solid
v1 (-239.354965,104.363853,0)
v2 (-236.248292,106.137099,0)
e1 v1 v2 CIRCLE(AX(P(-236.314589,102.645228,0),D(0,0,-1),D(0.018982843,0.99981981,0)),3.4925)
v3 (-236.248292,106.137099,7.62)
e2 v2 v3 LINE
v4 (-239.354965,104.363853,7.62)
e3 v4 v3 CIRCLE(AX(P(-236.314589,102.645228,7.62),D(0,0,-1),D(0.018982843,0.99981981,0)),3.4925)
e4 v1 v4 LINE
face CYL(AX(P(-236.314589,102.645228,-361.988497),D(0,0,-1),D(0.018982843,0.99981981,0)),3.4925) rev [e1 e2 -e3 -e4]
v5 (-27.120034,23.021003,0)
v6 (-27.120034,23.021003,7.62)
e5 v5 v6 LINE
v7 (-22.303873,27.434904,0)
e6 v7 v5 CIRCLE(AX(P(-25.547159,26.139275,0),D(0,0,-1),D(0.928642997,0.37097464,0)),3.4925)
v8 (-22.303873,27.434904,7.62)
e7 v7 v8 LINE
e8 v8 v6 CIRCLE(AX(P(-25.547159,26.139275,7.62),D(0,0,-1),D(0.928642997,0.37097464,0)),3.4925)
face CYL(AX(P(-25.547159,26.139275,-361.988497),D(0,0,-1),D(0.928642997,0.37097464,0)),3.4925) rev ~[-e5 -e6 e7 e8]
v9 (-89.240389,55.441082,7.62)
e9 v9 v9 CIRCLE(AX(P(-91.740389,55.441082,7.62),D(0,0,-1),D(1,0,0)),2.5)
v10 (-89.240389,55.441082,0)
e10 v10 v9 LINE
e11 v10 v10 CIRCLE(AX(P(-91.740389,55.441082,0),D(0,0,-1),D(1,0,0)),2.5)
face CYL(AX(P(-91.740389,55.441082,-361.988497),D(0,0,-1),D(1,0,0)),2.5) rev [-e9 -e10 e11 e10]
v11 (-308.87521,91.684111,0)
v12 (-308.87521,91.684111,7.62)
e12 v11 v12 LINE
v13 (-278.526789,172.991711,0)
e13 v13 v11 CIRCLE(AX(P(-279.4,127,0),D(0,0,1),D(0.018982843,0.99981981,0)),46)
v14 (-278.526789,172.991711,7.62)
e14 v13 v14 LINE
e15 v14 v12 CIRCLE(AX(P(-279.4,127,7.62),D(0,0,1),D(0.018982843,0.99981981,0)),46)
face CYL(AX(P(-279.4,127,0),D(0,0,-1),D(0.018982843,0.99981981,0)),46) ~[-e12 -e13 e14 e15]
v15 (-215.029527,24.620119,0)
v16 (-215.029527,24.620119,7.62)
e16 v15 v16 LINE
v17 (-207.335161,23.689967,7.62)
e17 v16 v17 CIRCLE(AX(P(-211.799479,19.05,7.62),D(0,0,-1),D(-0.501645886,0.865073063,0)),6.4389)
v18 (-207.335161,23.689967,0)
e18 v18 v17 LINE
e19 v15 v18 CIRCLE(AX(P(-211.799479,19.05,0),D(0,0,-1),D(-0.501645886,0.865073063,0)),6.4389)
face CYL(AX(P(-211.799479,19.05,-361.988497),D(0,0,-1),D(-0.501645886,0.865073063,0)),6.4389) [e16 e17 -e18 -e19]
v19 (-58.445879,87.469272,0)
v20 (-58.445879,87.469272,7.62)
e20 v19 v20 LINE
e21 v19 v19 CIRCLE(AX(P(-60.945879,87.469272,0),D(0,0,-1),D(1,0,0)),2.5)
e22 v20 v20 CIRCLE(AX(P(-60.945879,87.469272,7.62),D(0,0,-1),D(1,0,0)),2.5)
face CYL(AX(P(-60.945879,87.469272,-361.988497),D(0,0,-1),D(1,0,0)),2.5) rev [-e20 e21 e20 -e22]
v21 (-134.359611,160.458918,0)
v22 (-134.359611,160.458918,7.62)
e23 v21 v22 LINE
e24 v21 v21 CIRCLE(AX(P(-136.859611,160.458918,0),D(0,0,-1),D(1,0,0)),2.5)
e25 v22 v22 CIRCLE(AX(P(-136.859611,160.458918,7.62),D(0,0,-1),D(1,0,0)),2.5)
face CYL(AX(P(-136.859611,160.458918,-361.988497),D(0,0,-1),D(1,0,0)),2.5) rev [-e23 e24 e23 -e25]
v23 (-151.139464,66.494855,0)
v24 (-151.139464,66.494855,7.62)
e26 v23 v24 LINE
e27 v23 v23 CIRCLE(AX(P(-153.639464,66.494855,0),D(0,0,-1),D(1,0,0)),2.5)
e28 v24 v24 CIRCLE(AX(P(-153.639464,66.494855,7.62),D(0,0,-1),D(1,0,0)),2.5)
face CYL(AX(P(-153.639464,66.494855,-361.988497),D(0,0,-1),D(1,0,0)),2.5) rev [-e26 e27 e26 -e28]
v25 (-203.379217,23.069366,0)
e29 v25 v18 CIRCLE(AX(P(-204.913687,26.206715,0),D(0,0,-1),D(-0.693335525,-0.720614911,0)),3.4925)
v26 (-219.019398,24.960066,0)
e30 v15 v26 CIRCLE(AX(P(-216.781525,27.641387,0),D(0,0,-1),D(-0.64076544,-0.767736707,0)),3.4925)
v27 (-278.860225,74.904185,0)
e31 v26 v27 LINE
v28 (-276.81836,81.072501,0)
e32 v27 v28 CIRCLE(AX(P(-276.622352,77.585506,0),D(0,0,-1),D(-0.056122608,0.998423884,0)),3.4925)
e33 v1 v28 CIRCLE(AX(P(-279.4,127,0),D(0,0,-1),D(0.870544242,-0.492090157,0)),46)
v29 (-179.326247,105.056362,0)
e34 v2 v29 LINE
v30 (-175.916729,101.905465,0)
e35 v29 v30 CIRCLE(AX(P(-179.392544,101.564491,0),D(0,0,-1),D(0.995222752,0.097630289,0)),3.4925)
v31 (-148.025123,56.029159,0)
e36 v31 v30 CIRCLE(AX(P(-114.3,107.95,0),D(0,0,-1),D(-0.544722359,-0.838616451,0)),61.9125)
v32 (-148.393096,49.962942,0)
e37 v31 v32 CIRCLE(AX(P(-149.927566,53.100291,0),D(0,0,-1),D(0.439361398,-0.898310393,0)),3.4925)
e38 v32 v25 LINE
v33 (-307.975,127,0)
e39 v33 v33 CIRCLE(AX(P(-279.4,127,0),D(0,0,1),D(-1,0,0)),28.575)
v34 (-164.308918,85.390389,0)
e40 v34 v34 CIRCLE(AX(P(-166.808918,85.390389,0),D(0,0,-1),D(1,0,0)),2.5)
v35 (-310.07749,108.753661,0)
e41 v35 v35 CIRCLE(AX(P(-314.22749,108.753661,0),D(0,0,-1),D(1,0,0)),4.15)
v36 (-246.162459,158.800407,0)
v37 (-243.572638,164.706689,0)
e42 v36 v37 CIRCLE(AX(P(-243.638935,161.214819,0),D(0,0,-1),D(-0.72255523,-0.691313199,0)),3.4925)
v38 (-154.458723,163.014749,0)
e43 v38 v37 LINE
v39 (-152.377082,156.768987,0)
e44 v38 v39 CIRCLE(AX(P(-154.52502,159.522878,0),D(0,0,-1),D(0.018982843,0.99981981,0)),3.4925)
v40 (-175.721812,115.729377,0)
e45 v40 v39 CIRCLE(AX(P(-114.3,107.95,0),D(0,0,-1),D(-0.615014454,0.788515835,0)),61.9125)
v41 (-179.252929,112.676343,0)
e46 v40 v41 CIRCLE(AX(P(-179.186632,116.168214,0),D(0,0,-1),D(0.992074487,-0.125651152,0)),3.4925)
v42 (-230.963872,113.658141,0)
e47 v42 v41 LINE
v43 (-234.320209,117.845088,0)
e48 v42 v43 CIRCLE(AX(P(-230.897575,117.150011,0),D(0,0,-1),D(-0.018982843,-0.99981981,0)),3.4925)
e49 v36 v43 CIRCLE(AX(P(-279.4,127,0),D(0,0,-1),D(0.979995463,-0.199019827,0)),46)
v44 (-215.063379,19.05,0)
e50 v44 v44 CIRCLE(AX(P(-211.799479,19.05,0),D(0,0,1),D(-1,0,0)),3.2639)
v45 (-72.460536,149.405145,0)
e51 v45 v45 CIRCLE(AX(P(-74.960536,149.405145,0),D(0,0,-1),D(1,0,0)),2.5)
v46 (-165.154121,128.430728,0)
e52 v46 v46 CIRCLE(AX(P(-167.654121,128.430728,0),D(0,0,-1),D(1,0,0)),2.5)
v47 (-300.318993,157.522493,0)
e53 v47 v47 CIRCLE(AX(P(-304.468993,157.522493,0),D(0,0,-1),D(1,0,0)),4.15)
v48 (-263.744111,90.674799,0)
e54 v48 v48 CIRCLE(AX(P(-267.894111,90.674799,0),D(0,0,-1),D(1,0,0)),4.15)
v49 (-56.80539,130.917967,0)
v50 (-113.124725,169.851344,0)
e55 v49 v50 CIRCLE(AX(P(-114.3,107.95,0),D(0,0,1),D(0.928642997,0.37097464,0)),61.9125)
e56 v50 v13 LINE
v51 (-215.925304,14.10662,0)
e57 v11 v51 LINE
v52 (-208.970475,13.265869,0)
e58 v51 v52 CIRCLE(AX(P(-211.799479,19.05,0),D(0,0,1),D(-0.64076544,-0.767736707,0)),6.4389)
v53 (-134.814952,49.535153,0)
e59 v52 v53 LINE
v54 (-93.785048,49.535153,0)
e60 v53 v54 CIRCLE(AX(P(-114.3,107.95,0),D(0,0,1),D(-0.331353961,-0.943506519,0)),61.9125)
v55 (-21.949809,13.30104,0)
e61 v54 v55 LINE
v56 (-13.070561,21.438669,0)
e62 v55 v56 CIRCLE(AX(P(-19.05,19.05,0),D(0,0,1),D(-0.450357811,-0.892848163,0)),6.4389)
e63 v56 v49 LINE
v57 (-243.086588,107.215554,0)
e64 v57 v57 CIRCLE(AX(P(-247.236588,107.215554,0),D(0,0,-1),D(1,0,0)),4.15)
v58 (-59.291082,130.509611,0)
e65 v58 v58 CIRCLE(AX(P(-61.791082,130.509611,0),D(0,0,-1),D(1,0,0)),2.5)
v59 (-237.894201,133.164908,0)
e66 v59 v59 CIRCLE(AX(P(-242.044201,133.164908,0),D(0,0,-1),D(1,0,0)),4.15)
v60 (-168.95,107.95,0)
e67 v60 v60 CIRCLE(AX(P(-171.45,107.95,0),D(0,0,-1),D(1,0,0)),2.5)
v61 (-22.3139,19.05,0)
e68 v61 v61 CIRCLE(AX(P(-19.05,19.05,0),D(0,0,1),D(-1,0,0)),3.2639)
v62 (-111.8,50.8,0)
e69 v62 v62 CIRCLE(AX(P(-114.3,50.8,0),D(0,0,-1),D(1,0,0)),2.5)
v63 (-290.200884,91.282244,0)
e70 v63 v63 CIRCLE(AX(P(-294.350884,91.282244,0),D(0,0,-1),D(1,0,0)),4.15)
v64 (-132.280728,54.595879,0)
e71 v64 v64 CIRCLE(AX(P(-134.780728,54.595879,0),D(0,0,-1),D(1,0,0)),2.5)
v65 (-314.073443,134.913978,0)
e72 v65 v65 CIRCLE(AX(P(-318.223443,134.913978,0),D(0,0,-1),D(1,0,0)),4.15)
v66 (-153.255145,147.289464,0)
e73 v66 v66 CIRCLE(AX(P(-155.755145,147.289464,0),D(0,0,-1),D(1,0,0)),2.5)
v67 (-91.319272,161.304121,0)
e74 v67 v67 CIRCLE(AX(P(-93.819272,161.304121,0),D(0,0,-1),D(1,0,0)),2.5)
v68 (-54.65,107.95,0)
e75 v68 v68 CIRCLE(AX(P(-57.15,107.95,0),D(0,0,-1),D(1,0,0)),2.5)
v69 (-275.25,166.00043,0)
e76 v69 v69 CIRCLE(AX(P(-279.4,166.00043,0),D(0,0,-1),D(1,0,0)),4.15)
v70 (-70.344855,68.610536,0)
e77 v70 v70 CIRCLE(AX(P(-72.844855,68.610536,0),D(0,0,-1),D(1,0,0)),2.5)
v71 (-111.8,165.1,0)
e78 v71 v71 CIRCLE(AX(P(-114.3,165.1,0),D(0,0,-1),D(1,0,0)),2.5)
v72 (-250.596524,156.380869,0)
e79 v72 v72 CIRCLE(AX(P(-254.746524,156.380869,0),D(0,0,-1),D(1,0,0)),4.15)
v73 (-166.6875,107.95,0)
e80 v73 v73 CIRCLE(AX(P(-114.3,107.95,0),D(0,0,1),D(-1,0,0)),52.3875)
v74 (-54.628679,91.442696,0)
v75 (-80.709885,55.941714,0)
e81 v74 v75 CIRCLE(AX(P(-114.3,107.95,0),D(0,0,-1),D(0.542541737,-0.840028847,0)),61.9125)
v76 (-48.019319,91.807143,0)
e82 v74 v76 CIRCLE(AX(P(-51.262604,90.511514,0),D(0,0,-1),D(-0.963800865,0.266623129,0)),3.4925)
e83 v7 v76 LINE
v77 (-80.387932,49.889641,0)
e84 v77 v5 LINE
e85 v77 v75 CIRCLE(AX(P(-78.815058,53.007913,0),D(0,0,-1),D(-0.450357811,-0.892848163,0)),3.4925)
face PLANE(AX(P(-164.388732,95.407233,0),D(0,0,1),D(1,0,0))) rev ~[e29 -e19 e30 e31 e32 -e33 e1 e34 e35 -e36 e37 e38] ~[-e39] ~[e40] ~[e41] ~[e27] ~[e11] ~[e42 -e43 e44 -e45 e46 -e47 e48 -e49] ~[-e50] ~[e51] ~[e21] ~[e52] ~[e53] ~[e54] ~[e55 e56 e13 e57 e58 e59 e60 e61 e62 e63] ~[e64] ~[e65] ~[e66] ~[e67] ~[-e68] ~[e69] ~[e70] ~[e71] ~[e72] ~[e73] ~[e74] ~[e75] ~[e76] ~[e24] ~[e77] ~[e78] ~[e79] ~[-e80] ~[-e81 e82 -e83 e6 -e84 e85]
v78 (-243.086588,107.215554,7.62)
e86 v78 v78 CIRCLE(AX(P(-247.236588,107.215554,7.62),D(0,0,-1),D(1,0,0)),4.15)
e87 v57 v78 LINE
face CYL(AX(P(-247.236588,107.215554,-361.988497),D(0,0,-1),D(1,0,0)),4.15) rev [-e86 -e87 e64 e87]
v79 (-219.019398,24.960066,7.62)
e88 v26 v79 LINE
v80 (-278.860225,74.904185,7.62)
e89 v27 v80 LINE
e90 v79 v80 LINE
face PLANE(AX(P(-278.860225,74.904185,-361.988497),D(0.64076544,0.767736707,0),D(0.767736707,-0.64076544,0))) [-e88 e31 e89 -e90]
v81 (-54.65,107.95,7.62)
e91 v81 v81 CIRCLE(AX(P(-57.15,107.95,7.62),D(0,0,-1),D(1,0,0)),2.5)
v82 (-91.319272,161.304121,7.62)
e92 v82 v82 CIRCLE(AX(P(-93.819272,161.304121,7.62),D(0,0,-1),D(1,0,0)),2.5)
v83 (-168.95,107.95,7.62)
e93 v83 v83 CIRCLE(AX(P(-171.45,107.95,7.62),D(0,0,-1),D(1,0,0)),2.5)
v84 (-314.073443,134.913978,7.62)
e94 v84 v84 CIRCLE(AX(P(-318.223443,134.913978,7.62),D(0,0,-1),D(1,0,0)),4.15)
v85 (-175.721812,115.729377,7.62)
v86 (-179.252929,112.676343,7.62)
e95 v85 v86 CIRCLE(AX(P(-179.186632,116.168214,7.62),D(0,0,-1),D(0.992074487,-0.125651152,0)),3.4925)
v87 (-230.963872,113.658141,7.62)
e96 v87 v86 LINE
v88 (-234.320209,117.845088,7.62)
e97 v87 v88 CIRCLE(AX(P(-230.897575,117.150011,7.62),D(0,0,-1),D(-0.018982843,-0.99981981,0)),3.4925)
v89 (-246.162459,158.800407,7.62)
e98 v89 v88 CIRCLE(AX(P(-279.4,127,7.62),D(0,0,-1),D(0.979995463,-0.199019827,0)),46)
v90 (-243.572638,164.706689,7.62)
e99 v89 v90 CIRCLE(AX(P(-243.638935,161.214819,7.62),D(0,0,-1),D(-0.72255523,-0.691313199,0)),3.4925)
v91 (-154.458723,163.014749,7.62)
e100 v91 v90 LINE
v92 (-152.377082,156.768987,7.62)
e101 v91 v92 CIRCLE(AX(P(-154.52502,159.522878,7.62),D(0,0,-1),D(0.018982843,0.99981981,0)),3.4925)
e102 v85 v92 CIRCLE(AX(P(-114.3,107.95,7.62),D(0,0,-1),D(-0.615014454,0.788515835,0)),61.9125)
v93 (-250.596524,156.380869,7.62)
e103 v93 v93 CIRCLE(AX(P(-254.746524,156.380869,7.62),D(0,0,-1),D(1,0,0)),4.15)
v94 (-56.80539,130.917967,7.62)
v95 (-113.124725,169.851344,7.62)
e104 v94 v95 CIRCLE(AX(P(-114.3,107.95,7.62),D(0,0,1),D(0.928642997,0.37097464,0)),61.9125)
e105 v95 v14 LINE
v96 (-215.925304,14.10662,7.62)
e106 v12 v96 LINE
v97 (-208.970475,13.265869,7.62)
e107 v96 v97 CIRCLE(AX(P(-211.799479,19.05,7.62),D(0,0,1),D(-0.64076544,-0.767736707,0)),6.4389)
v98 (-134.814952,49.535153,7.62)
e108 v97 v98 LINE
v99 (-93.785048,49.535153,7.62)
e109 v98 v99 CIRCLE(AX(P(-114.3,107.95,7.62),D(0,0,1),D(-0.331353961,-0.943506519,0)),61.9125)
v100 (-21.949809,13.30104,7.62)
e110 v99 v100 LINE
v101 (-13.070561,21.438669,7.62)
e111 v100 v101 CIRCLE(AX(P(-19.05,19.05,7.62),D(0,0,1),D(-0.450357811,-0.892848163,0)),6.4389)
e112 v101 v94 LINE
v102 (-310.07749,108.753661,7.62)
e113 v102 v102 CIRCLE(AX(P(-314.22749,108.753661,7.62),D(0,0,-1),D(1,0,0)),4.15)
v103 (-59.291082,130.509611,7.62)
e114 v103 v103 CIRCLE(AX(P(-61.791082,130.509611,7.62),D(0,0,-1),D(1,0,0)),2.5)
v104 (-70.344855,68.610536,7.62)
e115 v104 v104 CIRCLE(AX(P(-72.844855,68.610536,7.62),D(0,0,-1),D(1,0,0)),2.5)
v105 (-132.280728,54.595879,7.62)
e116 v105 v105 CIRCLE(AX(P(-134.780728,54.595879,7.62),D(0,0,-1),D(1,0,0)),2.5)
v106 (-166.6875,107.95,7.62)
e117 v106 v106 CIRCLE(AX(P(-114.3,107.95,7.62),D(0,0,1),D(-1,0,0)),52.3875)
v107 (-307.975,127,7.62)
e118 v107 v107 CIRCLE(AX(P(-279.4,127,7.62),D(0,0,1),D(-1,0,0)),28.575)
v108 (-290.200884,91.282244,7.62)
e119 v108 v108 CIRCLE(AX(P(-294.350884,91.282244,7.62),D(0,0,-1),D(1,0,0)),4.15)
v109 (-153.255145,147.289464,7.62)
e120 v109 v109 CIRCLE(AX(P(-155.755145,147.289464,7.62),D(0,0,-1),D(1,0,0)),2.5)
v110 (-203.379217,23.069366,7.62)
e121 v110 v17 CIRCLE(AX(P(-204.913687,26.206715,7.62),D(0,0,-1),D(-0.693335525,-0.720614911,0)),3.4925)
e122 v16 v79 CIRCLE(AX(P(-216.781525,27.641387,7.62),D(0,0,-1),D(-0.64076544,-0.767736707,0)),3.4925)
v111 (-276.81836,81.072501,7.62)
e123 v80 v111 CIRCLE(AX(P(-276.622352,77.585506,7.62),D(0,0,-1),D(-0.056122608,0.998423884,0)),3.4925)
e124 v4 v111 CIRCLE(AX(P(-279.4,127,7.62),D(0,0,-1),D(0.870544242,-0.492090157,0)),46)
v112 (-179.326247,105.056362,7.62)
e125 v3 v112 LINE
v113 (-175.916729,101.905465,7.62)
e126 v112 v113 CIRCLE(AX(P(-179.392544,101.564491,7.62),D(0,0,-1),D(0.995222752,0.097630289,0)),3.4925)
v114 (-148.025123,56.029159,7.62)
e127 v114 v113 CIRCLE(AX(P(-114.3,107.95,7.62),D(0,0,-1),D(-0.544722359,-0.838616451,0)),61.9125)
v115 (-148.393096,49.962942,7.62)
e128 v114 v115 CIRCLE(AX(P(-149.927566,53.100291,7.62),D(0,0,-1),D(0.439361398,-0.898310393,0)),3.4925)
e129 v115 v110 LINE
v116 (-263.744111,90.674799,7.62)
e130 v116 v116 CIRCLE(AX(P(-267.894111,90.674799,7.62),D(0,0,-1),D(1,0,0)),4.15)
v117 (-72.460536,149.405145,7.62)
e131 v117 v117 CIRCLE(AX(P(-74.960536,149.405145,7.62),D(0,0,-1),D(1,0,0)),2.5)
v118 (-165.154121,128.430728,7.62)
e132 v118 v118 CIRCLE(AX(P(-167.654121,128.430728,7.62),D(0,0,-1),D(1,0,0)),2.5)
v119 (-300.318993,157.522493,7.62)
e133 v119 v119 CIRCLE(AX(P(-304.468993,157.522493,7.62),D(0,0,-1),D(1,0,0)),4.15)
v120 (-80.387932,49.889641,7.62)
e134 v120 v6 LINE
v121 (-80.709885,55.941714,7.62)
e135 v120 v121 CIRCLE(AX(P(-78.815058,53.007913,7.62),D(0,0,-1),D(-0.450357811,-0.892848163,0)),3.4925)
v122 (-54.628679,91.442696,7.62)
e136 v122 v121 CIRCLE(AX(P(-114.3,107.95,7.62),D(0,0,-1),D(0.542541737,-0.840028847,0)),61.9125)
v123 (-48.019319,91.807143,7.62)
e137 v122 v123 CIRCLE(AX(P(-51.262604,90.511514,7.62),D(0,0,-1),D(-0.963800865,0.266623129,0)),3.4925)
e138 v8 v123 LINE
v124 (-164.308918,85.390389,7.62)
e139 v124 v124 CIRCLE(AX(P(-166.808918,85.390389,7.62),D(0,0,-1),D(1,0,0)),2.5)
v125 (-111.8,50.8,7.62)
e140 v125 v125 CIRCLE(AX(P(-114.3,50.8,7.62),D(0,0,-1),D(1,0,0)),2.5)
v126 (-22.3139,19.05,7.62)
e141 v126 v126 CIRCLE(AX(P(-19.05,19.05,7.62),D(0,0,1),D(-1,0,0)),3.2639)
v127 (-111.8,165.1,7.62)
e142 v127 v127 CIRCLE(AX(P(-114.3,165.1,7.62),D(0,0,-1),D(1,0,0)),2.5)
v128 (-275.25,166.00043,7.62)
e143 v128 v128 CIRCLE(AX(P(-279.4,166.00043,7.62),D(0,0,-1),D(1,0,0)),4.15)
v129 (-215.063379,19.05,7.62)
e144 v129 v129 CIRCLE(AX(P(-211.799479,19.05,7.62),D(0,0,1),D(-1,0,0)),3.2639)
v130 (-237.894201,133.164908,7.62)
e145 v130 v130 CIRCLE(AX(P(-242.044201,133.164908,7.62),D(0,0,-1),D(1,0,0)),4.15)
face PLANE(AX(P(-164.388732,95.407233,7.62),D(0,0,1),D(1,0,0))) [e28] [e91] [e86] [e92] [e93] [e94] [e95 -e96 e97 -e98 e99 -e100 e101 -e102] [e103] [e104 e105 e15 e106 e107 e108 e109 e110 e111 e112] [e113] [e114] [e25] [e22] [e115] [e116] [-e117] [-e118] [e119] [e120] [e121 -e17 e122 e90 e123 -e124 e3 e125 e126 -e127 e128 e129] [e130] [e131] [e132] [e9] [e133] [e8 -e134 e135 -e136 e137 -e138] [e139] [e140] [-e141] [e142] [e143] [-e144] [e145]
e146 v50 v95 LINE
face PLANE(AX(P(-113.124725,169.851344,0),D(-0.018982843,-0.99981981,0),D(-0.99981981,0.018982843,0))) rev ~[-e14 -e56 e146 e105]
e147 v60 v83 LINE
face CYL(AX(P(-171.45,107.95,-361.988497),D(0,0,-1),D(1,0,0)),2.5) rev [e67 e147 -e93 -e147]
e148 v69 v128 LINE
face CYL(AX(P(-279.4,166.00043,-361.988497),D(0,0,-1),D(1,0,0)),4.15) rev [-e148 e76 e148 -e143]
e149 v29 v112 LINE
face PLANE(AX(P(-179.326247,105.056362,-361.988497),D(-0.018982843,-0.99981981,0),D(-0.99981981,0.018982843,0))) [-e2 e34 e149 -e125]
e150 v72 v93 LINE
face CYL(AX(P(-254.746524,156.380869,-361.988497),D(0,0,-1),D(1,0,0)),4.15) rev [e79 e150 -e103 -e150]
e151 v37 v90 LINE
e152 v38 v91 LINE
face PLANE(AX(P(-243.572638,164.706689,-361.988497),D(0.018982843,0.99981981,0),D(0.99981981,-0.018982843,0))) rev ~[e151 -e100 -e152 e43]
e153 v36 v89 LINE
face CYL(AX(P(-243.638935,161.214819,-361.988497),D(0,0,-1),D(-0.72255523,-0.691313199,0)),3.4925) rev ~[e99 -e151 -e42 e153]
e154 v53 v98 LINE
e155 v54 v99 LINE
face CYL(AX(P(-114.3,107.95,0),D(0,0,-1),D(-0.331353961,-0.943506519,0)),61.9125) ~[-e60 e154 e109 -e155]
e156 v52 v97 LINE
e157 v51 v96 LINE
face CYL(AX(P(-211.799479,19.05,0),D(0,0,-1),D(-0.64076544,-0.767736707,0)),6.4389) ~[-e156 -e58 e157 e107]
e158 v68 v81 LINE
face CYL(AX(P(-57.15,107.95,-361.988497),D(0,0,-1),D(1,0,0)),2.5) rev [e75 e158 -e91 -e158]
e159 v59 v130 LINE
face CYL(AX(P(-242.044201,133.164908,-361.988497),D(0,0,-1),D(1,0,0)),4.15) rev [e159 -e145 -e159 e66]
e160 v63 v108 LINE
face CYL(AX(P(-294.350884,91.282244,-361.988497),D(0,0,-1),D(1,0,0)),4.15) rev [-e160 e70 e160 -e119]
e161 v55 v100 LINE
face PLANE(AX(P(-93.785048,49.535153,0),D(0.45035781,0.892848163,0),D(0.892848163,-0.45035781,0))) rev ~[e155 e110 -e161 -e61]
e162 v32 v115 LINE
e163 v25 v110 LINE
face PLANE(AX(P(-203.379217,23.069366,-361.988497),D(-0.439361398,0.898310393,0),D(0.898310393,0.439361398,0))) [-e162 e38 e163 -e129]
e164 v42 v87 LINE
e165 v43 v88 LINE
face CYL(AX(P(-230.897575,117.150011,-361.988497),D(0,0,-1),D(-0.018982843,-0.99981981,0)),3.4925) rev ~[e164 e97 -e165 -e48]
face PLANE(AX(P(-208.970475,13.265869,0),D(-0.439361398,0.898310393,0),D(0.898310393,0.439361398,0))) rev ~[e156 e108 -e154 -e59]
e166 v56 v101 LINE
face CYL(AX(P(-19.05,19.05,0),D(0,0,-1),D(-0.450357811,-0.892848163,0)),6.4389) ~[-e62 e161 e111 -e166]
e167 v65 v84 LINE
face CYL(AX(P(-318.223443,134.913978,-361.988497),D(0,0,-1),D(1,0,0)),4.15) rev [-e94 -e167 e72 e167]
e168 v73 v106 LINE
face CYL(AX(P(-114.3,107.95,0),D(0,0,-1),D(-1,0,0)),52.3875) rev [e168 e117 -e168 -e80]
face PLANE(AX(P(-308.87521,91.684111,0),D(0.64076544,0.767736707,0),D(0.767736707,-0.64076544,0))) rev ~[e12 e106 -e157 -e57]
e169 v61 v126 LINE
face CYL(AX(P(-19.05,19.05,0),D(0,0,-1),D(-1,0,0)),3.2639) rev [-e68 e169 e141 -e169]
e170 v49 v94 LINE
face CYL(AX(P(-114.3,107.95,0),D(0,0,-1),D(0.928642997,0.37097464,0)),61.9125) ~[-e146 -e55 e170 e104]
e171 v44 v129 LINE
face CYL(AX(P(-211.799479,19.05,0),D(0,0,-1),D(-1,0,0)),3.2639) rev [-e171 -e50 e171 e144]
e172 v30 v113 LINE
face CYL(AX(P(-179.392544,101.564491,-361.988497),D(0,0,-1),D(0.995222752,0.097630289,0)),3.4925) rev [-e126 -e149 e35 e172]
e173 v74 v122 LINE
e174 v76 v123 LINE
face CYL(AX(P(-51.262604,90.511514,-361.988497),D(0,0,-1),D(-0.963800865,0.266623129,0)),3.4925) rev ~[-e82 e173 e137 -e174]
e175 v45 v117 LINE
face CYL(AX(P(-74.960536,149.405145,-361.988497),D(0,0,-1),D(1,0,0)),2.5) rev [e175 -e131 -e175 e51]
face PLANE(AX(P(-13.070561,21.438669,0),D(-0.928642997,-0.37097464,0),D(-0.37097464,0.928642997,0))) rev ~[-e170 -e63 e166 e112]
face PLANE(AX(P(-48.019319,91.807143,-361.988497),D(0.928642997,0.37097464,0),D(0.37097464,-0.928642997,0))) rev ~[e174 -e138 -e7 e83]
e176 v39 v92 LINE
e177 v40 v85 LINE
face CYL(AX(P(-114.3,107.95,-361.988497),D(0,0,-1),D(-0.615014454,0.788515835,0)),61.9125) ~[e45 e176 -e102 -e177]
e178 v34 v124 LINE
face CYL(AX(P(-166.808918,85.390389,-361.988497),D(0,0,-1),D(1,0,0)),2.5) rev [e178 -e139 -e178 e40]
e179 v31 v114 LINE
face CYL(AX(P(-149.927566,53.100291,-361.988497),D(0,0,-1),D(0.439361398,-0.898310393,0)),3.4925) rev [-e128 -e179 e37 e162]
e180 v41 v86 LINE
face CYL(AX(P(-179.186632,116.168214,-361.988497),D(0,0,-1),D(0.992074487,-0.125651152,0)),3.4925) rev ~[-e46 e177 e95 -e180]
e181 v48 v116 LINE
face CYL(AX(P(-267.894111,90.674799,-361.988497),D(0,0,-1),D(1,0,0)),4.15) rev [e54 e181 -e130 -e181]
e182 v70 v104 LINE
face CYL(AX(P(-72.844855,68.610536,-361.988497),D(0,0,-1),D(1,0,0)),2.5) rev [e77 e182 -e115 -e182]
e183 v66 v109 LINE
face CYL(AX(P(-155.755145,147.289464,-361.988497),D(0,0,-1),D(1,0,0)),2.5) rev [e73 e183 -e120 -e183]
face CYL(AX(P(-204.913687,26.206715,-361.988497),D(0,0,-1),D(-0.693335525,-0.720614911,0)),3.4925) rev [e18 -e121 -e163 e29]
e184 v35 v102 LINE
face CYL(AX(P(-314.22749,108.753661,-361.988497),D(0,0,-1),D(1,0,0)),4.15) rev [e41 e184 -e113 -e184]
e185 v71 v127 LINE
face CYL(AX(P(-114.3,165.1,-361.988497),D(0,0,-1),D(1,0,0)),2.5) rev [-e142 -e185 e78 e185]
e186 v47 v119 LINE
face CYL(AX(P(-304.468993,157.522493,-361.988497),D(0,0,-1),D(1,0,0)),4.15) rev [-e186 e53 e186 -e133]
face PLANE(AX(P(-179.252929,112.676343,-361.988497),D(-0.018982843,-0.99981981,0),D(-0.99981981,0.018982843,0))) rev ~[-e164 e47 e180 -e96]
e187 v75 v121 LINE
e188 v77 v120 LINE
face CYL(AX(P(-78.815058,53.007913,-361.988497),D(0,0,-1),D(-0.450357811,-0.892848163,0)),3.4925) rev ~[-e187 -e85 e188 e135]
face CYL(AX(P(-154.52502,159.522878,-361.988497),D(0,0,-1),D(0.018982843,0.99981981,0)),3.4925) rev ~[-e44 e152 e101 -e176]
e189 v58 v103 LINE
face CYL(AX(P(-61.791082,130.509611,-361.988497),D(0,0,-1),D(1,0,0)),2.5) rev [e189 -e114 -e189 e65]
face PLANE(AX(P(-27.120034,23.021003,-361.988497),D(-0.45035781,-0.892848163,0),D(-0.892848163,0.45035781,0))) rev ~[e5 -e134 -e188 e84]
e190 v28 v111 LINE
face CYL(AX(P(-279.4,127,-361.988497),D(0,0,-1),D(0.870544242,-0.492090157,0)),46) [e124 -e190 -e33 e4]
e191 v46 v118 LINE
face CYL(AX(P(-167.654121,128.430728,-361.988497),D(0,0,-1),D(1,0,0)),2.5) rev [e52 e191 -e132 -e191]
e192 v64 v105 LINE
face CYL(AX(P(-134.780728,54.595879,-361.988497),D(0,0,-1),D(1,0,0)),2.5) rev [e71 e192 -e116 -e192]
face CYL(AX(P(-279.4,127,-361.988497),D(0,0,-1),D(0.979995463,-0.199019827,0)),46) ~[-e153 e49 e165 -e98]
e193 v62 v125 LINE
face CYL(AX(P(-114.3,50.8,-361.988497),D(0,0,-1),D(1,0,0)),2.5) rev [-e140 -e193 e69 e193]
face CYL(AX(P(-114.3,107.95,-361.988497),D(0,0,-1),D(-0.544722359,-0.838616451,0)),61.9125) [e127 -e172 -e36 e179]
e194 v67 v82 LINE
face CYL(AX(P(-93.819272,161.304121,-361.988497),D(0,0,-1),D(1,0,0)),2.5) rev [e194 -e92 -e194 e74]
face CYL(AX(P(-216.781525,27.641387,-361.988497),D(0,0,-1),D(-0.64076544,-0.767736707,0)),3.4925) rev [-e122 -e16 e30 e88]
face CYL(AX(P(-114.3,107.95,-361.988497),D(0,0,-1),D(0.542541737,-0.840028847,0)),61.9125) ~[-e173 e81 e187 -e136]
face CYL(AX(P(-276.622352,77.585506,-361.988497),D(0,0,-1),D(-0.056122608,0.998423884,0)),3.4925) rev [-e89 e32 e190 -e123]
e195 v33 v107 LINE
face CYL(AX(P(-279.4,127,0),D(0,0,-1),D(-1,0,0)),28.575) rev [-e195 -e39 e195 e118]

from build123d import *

# Parameters (mm, degrees)
SKETCH2_R               = 28.575
SKETCH2_R_2             = 3.2639
SKETCH2_R_3             = 52.3875
BOSS_EXTRUDE1_DEPTH     = 7.62
CUT_EXTRUDE1_DEPTH      = 369.60849746
CUT_EXTRUDE1_DEPTH_BACK = 369.60849746
SKETCH3_R               = 4.15
SKETCH3_R_2             = 2.5
CUT_EXTRUDE2_DEPTH      = 369.60849746
CUT_EXTRUDE2_DEPTH_BACK = 369.60849746


with BuildPart() as part:
    # Sketch2 → Boss-Extrude1 (new body)
    with BuildSketch(Plane.XY):
        with BuildLine():
            Line((-308.875210247, 91.684111495), (-215.925303767, 14.10662012))
            ThreePointArc((-215.925303767, 14.10662012), (-212.572234871, 12.65763879), (-208.970475069, 13.265869211))
            Line((-208.970475069, 13.265869211), (-134.814952137, 49.535152614))
            ThreePointArc((-134.814952137, 49.535152614), (-114.3, 46.0375), (-93.785047863, 49.535152614))
            Line((-93.785047863, 49.535152614), (-21.949808906, 13.301039962))
            ThreePointArc((-21.949808906, 13.301039962), (-14.699565425, 14.303090245), (-13.070560605, 21.438668609))
            Line((-13.070560605, 21.438668609), (-56.805390428, 130.917967399))
            ThreePointArc((-56.805390428, 130.917967399), (-79.093597182, 158.878055695), (-113.124724735, 169.851343962))
            Line((-113.124724735, 169.851343962), (-278.526789224, 172.991711242))
            ThreePointArc((-278.526789224, 172.991711242), (-322.495823899, 143.085706774), (-308.875210247, 91.684111495))
        make_face()
        with Locations(Location((-279.4, 127, 0), (0, 0, 180))):
            Circle(SKETCH2_R, mode=Mode.SUBTRACT)
        with Locations(Location((-19.05, 19.05, 0), (0, 0, 180))):
            Circle(SKETCH2_R_2, mode=Mode.SUBTRACT)
        with Locations(Location((-211.799479175, 19.05, 0), (0, 0, 180))):
            Circle(SKETCH2_R_2, mode=Mode.SUBTRACT)
        with Locations(Location((-114.3, 107.95, 0), (0, 0, 180))):
            Circle(SKETCH2_R_3, mode=Mode.SUBTRACT)
    extrude(amount=BOSS_EXTRUDE1_DEPTH)

    # Sketch3 → Cut-Extrude1 (cut, two sides: drawn at the far end of the back side and taken through both)
    with BuildSketch(Plane.XY.offset(7.62).offset(-CUT_EXTRUDE1_DEPTH_BACK)):
        with Locations((-279.4, 166.00043)):
            Circle(SKETCH3_R)
        with Locations((-254.746524018, 156.380868571)):
            Circle(SKETCH3_R)
        with Locations((-242.044200635, 133.164908097)):
            Circle(SKETCH3_R)
        with Locations((-247.236588134, 107.215554499)):
            Circle(SKETCH3_R)
        with Locations((-267.894110695, 90.674798722)):
            Circle(SKETCH3_R)
        with Locations((-294.35088393, 91.282244222)):
            Circle(SKETCH3_R)
        with Locations((-314.227489609, 108.753660501)):
            Circle(SKETCH3_R)
        with Locations((-318.223443029, 134.913977707)):
            Circle(SKETCH3_R)
        with Locations((-304.468993176, 157.522492681)):
            Circle(SKETCH3_R)
        with Locations((-114.3, 165.1)):
            Circle(SKETCH3_R_2)
        with Locations((-93.819271683, 161.304121374)):
            Circle(SKETCH3_R_2)
        with Locations((-74.960535999, 149.405145303)):
            Circle(SKETCH3_R_2)
        with Locations((-61.79108234, 130.509611392)):
            Circle(SKETCH3_R_2)
        with Locations((-57.15, 107.95)):
            Circle(SKETCH3_R_2)
        with Locations((-60.945878626, 87.469271683)):
            Circle(SKETCH3_R_2)
        with Locations((-72.844854697, 68.610535999)):
            Circle(SKETCH3_R_2)
        with Locations((-91.740388608, 55.44108234)):
            Circle(SKETCH3_R_2)
        with Locations((-114.3, 50.8)):
            Circle(SKETCH3_R_2)
        with Locations((-134.780728317, 54.595878626)):
            Circle(SKETCH3_R_2)
        with Locations((-153.639464001, 66.494854697)):
            Circle(SKETCH3_R_2)
        with Locations((-166.80891766, 85.390388608)):
            Circle(SKETCH3_R_2)
        with Locations((-171.45, 107.95)):
            Circle(SKETCH3_R_2)
        with Locations((-167.654121374, 128.430728317)):
            Circle(SKETCH3_R_2)
        with Locations((-155.755145303, 147.289464001)):
            Circle(SKETCH3_R_2)
        with Locations((-136.859611392, 160.45891766)):
            Circle(SKETCH3_R_2)
    extrude(amount=CUT_EXTRUDE1_DEPTH + CUT_EXTRUDE1_DEPTH_BACK, mode=Mode.SUBTRACT)

    # Sketch4 → Cut-Extrude2 (cut, two sides: drawn at the far end of the back side and taken through both)
    with BuildSketch(Plane.XY.offset(7.62).offset(-CUT_EXTRUDE2_DEPTH_BACK)):
        with BuildLine():
            Line((-278.860225121, 74.904185455), (-219.01939843, 24.960066172))
            ThreePointArc((-219.01939843, 24.960066172), (-217.078020776, 24.161494872), (-215.029526872, 24.620118947))
            ThreePointArc((-215.029526872, 24.620118947), (-211.026723478, 25.44236121), (-207.335161059, 23.689967346))
            ThreePointArc((-207.335161059, 23.689967346), (-205.454963796, 22.756414152), (-203.379217054, 23.069365873))
            Line((-203.379217054, 23.069365873), (-148.393096208, 49.962941986))
            ThreePointArc((-148.393096208, 49.962941986), (-146.441473652, 52.888826728), (-148.025123052, 56.029158988))
            ThreePointArc((-148.025123052, 56.029158988), (-167.202514386, 75.786641533), (-175.91672865, 101.90546472))
            ThreePointArc((-175.91672865, 101.90546472), (-177.022168822, 104.129423143), (-179.326246533, 105.05636162))
            Line((-179.326246533, 105.05636162), (-236.248291515, 106.1370986))
            ThreePointArc((-236.248291515, 106.1370986), (-238.04588498, 105.678406249), (-239.35496486, 104.363852787))
            ThreePointArc((-239.35496486, 104.363852787), (-255.112552192, 87.934415671), (-276.81836003, 81.072501319))
            ThreePointArc((-276.81836003, 81.072501319), (-279.937917376, 78.683040095), (-278.860225121, 74.904185455))
        make_face()
        with BuildLine():
            Line((-48.019318761, 91.807143198), (-22.303873454, 27.434904147))
            ThreePointArc((-22.303873454, 27.434904147), (-23.187455951, 23.564521405), (-27.120033775, 23.021003007))
            Line((-27.120033775, 23.021003007), (-80.387932313, 49.889641079))
            ThreePointArc((-80.387932313, 49.889641079), (-82.302626367, 52.822384958), (-80.709884678, 55.941714036))
            ThreePointArc((-80.709884678, 55.941714036), (-64.405072396, 71.294115674), (-54.62867895, 91.442695545))
            ThreePointArc((-54.62867895, 91.442695545), (-51.454892751, 93.998716793), (-48.019318761, 91.807143198))
        make_face()
        with BuildLine():
            Line((-243.572637688, 164.706689191), (-154.458722757, 163.014748867))
            ThreePointArc((-154.458722757, 163.014748867), (-151.211699304, 160.627169805), (-152.377082357, 156.768986628))
            ThreePointArc((-152.377082357, 156.768986628), (-168.115145357, 138.561889625), (-175.721811685, 115.729376938))
            ThreePointArc((-175.721811685, 115.729376938), (-176.902393858, 113.526279988), (-179.252929411, 112.6763429))
            Line((-179.252929411, 112.6763429), (-230.963872105, 113.658140516))
            ThreePointArc((-230.963872105, 113.658140516), (-233.622605418, 114.965574686), (-234.320208682, 117.845087947))
            ThreePointArc((-234.320208682, 117.845087947), (-235.210231249, 139.777493405), (-246.162459408, 158.800407158))
            ThreePointArc((-246.162459408, 158.800407158), (-246.837455621, 162.61732476), (-243.572637688, 164.706689191))
        make_face()
    extrude(amount=CUT_EXTRUDE2_DEPTH + CUT_EXTRUDE2_DEPTH_BACK, mode=Mode.SUBTRACT)


solid = part.part
